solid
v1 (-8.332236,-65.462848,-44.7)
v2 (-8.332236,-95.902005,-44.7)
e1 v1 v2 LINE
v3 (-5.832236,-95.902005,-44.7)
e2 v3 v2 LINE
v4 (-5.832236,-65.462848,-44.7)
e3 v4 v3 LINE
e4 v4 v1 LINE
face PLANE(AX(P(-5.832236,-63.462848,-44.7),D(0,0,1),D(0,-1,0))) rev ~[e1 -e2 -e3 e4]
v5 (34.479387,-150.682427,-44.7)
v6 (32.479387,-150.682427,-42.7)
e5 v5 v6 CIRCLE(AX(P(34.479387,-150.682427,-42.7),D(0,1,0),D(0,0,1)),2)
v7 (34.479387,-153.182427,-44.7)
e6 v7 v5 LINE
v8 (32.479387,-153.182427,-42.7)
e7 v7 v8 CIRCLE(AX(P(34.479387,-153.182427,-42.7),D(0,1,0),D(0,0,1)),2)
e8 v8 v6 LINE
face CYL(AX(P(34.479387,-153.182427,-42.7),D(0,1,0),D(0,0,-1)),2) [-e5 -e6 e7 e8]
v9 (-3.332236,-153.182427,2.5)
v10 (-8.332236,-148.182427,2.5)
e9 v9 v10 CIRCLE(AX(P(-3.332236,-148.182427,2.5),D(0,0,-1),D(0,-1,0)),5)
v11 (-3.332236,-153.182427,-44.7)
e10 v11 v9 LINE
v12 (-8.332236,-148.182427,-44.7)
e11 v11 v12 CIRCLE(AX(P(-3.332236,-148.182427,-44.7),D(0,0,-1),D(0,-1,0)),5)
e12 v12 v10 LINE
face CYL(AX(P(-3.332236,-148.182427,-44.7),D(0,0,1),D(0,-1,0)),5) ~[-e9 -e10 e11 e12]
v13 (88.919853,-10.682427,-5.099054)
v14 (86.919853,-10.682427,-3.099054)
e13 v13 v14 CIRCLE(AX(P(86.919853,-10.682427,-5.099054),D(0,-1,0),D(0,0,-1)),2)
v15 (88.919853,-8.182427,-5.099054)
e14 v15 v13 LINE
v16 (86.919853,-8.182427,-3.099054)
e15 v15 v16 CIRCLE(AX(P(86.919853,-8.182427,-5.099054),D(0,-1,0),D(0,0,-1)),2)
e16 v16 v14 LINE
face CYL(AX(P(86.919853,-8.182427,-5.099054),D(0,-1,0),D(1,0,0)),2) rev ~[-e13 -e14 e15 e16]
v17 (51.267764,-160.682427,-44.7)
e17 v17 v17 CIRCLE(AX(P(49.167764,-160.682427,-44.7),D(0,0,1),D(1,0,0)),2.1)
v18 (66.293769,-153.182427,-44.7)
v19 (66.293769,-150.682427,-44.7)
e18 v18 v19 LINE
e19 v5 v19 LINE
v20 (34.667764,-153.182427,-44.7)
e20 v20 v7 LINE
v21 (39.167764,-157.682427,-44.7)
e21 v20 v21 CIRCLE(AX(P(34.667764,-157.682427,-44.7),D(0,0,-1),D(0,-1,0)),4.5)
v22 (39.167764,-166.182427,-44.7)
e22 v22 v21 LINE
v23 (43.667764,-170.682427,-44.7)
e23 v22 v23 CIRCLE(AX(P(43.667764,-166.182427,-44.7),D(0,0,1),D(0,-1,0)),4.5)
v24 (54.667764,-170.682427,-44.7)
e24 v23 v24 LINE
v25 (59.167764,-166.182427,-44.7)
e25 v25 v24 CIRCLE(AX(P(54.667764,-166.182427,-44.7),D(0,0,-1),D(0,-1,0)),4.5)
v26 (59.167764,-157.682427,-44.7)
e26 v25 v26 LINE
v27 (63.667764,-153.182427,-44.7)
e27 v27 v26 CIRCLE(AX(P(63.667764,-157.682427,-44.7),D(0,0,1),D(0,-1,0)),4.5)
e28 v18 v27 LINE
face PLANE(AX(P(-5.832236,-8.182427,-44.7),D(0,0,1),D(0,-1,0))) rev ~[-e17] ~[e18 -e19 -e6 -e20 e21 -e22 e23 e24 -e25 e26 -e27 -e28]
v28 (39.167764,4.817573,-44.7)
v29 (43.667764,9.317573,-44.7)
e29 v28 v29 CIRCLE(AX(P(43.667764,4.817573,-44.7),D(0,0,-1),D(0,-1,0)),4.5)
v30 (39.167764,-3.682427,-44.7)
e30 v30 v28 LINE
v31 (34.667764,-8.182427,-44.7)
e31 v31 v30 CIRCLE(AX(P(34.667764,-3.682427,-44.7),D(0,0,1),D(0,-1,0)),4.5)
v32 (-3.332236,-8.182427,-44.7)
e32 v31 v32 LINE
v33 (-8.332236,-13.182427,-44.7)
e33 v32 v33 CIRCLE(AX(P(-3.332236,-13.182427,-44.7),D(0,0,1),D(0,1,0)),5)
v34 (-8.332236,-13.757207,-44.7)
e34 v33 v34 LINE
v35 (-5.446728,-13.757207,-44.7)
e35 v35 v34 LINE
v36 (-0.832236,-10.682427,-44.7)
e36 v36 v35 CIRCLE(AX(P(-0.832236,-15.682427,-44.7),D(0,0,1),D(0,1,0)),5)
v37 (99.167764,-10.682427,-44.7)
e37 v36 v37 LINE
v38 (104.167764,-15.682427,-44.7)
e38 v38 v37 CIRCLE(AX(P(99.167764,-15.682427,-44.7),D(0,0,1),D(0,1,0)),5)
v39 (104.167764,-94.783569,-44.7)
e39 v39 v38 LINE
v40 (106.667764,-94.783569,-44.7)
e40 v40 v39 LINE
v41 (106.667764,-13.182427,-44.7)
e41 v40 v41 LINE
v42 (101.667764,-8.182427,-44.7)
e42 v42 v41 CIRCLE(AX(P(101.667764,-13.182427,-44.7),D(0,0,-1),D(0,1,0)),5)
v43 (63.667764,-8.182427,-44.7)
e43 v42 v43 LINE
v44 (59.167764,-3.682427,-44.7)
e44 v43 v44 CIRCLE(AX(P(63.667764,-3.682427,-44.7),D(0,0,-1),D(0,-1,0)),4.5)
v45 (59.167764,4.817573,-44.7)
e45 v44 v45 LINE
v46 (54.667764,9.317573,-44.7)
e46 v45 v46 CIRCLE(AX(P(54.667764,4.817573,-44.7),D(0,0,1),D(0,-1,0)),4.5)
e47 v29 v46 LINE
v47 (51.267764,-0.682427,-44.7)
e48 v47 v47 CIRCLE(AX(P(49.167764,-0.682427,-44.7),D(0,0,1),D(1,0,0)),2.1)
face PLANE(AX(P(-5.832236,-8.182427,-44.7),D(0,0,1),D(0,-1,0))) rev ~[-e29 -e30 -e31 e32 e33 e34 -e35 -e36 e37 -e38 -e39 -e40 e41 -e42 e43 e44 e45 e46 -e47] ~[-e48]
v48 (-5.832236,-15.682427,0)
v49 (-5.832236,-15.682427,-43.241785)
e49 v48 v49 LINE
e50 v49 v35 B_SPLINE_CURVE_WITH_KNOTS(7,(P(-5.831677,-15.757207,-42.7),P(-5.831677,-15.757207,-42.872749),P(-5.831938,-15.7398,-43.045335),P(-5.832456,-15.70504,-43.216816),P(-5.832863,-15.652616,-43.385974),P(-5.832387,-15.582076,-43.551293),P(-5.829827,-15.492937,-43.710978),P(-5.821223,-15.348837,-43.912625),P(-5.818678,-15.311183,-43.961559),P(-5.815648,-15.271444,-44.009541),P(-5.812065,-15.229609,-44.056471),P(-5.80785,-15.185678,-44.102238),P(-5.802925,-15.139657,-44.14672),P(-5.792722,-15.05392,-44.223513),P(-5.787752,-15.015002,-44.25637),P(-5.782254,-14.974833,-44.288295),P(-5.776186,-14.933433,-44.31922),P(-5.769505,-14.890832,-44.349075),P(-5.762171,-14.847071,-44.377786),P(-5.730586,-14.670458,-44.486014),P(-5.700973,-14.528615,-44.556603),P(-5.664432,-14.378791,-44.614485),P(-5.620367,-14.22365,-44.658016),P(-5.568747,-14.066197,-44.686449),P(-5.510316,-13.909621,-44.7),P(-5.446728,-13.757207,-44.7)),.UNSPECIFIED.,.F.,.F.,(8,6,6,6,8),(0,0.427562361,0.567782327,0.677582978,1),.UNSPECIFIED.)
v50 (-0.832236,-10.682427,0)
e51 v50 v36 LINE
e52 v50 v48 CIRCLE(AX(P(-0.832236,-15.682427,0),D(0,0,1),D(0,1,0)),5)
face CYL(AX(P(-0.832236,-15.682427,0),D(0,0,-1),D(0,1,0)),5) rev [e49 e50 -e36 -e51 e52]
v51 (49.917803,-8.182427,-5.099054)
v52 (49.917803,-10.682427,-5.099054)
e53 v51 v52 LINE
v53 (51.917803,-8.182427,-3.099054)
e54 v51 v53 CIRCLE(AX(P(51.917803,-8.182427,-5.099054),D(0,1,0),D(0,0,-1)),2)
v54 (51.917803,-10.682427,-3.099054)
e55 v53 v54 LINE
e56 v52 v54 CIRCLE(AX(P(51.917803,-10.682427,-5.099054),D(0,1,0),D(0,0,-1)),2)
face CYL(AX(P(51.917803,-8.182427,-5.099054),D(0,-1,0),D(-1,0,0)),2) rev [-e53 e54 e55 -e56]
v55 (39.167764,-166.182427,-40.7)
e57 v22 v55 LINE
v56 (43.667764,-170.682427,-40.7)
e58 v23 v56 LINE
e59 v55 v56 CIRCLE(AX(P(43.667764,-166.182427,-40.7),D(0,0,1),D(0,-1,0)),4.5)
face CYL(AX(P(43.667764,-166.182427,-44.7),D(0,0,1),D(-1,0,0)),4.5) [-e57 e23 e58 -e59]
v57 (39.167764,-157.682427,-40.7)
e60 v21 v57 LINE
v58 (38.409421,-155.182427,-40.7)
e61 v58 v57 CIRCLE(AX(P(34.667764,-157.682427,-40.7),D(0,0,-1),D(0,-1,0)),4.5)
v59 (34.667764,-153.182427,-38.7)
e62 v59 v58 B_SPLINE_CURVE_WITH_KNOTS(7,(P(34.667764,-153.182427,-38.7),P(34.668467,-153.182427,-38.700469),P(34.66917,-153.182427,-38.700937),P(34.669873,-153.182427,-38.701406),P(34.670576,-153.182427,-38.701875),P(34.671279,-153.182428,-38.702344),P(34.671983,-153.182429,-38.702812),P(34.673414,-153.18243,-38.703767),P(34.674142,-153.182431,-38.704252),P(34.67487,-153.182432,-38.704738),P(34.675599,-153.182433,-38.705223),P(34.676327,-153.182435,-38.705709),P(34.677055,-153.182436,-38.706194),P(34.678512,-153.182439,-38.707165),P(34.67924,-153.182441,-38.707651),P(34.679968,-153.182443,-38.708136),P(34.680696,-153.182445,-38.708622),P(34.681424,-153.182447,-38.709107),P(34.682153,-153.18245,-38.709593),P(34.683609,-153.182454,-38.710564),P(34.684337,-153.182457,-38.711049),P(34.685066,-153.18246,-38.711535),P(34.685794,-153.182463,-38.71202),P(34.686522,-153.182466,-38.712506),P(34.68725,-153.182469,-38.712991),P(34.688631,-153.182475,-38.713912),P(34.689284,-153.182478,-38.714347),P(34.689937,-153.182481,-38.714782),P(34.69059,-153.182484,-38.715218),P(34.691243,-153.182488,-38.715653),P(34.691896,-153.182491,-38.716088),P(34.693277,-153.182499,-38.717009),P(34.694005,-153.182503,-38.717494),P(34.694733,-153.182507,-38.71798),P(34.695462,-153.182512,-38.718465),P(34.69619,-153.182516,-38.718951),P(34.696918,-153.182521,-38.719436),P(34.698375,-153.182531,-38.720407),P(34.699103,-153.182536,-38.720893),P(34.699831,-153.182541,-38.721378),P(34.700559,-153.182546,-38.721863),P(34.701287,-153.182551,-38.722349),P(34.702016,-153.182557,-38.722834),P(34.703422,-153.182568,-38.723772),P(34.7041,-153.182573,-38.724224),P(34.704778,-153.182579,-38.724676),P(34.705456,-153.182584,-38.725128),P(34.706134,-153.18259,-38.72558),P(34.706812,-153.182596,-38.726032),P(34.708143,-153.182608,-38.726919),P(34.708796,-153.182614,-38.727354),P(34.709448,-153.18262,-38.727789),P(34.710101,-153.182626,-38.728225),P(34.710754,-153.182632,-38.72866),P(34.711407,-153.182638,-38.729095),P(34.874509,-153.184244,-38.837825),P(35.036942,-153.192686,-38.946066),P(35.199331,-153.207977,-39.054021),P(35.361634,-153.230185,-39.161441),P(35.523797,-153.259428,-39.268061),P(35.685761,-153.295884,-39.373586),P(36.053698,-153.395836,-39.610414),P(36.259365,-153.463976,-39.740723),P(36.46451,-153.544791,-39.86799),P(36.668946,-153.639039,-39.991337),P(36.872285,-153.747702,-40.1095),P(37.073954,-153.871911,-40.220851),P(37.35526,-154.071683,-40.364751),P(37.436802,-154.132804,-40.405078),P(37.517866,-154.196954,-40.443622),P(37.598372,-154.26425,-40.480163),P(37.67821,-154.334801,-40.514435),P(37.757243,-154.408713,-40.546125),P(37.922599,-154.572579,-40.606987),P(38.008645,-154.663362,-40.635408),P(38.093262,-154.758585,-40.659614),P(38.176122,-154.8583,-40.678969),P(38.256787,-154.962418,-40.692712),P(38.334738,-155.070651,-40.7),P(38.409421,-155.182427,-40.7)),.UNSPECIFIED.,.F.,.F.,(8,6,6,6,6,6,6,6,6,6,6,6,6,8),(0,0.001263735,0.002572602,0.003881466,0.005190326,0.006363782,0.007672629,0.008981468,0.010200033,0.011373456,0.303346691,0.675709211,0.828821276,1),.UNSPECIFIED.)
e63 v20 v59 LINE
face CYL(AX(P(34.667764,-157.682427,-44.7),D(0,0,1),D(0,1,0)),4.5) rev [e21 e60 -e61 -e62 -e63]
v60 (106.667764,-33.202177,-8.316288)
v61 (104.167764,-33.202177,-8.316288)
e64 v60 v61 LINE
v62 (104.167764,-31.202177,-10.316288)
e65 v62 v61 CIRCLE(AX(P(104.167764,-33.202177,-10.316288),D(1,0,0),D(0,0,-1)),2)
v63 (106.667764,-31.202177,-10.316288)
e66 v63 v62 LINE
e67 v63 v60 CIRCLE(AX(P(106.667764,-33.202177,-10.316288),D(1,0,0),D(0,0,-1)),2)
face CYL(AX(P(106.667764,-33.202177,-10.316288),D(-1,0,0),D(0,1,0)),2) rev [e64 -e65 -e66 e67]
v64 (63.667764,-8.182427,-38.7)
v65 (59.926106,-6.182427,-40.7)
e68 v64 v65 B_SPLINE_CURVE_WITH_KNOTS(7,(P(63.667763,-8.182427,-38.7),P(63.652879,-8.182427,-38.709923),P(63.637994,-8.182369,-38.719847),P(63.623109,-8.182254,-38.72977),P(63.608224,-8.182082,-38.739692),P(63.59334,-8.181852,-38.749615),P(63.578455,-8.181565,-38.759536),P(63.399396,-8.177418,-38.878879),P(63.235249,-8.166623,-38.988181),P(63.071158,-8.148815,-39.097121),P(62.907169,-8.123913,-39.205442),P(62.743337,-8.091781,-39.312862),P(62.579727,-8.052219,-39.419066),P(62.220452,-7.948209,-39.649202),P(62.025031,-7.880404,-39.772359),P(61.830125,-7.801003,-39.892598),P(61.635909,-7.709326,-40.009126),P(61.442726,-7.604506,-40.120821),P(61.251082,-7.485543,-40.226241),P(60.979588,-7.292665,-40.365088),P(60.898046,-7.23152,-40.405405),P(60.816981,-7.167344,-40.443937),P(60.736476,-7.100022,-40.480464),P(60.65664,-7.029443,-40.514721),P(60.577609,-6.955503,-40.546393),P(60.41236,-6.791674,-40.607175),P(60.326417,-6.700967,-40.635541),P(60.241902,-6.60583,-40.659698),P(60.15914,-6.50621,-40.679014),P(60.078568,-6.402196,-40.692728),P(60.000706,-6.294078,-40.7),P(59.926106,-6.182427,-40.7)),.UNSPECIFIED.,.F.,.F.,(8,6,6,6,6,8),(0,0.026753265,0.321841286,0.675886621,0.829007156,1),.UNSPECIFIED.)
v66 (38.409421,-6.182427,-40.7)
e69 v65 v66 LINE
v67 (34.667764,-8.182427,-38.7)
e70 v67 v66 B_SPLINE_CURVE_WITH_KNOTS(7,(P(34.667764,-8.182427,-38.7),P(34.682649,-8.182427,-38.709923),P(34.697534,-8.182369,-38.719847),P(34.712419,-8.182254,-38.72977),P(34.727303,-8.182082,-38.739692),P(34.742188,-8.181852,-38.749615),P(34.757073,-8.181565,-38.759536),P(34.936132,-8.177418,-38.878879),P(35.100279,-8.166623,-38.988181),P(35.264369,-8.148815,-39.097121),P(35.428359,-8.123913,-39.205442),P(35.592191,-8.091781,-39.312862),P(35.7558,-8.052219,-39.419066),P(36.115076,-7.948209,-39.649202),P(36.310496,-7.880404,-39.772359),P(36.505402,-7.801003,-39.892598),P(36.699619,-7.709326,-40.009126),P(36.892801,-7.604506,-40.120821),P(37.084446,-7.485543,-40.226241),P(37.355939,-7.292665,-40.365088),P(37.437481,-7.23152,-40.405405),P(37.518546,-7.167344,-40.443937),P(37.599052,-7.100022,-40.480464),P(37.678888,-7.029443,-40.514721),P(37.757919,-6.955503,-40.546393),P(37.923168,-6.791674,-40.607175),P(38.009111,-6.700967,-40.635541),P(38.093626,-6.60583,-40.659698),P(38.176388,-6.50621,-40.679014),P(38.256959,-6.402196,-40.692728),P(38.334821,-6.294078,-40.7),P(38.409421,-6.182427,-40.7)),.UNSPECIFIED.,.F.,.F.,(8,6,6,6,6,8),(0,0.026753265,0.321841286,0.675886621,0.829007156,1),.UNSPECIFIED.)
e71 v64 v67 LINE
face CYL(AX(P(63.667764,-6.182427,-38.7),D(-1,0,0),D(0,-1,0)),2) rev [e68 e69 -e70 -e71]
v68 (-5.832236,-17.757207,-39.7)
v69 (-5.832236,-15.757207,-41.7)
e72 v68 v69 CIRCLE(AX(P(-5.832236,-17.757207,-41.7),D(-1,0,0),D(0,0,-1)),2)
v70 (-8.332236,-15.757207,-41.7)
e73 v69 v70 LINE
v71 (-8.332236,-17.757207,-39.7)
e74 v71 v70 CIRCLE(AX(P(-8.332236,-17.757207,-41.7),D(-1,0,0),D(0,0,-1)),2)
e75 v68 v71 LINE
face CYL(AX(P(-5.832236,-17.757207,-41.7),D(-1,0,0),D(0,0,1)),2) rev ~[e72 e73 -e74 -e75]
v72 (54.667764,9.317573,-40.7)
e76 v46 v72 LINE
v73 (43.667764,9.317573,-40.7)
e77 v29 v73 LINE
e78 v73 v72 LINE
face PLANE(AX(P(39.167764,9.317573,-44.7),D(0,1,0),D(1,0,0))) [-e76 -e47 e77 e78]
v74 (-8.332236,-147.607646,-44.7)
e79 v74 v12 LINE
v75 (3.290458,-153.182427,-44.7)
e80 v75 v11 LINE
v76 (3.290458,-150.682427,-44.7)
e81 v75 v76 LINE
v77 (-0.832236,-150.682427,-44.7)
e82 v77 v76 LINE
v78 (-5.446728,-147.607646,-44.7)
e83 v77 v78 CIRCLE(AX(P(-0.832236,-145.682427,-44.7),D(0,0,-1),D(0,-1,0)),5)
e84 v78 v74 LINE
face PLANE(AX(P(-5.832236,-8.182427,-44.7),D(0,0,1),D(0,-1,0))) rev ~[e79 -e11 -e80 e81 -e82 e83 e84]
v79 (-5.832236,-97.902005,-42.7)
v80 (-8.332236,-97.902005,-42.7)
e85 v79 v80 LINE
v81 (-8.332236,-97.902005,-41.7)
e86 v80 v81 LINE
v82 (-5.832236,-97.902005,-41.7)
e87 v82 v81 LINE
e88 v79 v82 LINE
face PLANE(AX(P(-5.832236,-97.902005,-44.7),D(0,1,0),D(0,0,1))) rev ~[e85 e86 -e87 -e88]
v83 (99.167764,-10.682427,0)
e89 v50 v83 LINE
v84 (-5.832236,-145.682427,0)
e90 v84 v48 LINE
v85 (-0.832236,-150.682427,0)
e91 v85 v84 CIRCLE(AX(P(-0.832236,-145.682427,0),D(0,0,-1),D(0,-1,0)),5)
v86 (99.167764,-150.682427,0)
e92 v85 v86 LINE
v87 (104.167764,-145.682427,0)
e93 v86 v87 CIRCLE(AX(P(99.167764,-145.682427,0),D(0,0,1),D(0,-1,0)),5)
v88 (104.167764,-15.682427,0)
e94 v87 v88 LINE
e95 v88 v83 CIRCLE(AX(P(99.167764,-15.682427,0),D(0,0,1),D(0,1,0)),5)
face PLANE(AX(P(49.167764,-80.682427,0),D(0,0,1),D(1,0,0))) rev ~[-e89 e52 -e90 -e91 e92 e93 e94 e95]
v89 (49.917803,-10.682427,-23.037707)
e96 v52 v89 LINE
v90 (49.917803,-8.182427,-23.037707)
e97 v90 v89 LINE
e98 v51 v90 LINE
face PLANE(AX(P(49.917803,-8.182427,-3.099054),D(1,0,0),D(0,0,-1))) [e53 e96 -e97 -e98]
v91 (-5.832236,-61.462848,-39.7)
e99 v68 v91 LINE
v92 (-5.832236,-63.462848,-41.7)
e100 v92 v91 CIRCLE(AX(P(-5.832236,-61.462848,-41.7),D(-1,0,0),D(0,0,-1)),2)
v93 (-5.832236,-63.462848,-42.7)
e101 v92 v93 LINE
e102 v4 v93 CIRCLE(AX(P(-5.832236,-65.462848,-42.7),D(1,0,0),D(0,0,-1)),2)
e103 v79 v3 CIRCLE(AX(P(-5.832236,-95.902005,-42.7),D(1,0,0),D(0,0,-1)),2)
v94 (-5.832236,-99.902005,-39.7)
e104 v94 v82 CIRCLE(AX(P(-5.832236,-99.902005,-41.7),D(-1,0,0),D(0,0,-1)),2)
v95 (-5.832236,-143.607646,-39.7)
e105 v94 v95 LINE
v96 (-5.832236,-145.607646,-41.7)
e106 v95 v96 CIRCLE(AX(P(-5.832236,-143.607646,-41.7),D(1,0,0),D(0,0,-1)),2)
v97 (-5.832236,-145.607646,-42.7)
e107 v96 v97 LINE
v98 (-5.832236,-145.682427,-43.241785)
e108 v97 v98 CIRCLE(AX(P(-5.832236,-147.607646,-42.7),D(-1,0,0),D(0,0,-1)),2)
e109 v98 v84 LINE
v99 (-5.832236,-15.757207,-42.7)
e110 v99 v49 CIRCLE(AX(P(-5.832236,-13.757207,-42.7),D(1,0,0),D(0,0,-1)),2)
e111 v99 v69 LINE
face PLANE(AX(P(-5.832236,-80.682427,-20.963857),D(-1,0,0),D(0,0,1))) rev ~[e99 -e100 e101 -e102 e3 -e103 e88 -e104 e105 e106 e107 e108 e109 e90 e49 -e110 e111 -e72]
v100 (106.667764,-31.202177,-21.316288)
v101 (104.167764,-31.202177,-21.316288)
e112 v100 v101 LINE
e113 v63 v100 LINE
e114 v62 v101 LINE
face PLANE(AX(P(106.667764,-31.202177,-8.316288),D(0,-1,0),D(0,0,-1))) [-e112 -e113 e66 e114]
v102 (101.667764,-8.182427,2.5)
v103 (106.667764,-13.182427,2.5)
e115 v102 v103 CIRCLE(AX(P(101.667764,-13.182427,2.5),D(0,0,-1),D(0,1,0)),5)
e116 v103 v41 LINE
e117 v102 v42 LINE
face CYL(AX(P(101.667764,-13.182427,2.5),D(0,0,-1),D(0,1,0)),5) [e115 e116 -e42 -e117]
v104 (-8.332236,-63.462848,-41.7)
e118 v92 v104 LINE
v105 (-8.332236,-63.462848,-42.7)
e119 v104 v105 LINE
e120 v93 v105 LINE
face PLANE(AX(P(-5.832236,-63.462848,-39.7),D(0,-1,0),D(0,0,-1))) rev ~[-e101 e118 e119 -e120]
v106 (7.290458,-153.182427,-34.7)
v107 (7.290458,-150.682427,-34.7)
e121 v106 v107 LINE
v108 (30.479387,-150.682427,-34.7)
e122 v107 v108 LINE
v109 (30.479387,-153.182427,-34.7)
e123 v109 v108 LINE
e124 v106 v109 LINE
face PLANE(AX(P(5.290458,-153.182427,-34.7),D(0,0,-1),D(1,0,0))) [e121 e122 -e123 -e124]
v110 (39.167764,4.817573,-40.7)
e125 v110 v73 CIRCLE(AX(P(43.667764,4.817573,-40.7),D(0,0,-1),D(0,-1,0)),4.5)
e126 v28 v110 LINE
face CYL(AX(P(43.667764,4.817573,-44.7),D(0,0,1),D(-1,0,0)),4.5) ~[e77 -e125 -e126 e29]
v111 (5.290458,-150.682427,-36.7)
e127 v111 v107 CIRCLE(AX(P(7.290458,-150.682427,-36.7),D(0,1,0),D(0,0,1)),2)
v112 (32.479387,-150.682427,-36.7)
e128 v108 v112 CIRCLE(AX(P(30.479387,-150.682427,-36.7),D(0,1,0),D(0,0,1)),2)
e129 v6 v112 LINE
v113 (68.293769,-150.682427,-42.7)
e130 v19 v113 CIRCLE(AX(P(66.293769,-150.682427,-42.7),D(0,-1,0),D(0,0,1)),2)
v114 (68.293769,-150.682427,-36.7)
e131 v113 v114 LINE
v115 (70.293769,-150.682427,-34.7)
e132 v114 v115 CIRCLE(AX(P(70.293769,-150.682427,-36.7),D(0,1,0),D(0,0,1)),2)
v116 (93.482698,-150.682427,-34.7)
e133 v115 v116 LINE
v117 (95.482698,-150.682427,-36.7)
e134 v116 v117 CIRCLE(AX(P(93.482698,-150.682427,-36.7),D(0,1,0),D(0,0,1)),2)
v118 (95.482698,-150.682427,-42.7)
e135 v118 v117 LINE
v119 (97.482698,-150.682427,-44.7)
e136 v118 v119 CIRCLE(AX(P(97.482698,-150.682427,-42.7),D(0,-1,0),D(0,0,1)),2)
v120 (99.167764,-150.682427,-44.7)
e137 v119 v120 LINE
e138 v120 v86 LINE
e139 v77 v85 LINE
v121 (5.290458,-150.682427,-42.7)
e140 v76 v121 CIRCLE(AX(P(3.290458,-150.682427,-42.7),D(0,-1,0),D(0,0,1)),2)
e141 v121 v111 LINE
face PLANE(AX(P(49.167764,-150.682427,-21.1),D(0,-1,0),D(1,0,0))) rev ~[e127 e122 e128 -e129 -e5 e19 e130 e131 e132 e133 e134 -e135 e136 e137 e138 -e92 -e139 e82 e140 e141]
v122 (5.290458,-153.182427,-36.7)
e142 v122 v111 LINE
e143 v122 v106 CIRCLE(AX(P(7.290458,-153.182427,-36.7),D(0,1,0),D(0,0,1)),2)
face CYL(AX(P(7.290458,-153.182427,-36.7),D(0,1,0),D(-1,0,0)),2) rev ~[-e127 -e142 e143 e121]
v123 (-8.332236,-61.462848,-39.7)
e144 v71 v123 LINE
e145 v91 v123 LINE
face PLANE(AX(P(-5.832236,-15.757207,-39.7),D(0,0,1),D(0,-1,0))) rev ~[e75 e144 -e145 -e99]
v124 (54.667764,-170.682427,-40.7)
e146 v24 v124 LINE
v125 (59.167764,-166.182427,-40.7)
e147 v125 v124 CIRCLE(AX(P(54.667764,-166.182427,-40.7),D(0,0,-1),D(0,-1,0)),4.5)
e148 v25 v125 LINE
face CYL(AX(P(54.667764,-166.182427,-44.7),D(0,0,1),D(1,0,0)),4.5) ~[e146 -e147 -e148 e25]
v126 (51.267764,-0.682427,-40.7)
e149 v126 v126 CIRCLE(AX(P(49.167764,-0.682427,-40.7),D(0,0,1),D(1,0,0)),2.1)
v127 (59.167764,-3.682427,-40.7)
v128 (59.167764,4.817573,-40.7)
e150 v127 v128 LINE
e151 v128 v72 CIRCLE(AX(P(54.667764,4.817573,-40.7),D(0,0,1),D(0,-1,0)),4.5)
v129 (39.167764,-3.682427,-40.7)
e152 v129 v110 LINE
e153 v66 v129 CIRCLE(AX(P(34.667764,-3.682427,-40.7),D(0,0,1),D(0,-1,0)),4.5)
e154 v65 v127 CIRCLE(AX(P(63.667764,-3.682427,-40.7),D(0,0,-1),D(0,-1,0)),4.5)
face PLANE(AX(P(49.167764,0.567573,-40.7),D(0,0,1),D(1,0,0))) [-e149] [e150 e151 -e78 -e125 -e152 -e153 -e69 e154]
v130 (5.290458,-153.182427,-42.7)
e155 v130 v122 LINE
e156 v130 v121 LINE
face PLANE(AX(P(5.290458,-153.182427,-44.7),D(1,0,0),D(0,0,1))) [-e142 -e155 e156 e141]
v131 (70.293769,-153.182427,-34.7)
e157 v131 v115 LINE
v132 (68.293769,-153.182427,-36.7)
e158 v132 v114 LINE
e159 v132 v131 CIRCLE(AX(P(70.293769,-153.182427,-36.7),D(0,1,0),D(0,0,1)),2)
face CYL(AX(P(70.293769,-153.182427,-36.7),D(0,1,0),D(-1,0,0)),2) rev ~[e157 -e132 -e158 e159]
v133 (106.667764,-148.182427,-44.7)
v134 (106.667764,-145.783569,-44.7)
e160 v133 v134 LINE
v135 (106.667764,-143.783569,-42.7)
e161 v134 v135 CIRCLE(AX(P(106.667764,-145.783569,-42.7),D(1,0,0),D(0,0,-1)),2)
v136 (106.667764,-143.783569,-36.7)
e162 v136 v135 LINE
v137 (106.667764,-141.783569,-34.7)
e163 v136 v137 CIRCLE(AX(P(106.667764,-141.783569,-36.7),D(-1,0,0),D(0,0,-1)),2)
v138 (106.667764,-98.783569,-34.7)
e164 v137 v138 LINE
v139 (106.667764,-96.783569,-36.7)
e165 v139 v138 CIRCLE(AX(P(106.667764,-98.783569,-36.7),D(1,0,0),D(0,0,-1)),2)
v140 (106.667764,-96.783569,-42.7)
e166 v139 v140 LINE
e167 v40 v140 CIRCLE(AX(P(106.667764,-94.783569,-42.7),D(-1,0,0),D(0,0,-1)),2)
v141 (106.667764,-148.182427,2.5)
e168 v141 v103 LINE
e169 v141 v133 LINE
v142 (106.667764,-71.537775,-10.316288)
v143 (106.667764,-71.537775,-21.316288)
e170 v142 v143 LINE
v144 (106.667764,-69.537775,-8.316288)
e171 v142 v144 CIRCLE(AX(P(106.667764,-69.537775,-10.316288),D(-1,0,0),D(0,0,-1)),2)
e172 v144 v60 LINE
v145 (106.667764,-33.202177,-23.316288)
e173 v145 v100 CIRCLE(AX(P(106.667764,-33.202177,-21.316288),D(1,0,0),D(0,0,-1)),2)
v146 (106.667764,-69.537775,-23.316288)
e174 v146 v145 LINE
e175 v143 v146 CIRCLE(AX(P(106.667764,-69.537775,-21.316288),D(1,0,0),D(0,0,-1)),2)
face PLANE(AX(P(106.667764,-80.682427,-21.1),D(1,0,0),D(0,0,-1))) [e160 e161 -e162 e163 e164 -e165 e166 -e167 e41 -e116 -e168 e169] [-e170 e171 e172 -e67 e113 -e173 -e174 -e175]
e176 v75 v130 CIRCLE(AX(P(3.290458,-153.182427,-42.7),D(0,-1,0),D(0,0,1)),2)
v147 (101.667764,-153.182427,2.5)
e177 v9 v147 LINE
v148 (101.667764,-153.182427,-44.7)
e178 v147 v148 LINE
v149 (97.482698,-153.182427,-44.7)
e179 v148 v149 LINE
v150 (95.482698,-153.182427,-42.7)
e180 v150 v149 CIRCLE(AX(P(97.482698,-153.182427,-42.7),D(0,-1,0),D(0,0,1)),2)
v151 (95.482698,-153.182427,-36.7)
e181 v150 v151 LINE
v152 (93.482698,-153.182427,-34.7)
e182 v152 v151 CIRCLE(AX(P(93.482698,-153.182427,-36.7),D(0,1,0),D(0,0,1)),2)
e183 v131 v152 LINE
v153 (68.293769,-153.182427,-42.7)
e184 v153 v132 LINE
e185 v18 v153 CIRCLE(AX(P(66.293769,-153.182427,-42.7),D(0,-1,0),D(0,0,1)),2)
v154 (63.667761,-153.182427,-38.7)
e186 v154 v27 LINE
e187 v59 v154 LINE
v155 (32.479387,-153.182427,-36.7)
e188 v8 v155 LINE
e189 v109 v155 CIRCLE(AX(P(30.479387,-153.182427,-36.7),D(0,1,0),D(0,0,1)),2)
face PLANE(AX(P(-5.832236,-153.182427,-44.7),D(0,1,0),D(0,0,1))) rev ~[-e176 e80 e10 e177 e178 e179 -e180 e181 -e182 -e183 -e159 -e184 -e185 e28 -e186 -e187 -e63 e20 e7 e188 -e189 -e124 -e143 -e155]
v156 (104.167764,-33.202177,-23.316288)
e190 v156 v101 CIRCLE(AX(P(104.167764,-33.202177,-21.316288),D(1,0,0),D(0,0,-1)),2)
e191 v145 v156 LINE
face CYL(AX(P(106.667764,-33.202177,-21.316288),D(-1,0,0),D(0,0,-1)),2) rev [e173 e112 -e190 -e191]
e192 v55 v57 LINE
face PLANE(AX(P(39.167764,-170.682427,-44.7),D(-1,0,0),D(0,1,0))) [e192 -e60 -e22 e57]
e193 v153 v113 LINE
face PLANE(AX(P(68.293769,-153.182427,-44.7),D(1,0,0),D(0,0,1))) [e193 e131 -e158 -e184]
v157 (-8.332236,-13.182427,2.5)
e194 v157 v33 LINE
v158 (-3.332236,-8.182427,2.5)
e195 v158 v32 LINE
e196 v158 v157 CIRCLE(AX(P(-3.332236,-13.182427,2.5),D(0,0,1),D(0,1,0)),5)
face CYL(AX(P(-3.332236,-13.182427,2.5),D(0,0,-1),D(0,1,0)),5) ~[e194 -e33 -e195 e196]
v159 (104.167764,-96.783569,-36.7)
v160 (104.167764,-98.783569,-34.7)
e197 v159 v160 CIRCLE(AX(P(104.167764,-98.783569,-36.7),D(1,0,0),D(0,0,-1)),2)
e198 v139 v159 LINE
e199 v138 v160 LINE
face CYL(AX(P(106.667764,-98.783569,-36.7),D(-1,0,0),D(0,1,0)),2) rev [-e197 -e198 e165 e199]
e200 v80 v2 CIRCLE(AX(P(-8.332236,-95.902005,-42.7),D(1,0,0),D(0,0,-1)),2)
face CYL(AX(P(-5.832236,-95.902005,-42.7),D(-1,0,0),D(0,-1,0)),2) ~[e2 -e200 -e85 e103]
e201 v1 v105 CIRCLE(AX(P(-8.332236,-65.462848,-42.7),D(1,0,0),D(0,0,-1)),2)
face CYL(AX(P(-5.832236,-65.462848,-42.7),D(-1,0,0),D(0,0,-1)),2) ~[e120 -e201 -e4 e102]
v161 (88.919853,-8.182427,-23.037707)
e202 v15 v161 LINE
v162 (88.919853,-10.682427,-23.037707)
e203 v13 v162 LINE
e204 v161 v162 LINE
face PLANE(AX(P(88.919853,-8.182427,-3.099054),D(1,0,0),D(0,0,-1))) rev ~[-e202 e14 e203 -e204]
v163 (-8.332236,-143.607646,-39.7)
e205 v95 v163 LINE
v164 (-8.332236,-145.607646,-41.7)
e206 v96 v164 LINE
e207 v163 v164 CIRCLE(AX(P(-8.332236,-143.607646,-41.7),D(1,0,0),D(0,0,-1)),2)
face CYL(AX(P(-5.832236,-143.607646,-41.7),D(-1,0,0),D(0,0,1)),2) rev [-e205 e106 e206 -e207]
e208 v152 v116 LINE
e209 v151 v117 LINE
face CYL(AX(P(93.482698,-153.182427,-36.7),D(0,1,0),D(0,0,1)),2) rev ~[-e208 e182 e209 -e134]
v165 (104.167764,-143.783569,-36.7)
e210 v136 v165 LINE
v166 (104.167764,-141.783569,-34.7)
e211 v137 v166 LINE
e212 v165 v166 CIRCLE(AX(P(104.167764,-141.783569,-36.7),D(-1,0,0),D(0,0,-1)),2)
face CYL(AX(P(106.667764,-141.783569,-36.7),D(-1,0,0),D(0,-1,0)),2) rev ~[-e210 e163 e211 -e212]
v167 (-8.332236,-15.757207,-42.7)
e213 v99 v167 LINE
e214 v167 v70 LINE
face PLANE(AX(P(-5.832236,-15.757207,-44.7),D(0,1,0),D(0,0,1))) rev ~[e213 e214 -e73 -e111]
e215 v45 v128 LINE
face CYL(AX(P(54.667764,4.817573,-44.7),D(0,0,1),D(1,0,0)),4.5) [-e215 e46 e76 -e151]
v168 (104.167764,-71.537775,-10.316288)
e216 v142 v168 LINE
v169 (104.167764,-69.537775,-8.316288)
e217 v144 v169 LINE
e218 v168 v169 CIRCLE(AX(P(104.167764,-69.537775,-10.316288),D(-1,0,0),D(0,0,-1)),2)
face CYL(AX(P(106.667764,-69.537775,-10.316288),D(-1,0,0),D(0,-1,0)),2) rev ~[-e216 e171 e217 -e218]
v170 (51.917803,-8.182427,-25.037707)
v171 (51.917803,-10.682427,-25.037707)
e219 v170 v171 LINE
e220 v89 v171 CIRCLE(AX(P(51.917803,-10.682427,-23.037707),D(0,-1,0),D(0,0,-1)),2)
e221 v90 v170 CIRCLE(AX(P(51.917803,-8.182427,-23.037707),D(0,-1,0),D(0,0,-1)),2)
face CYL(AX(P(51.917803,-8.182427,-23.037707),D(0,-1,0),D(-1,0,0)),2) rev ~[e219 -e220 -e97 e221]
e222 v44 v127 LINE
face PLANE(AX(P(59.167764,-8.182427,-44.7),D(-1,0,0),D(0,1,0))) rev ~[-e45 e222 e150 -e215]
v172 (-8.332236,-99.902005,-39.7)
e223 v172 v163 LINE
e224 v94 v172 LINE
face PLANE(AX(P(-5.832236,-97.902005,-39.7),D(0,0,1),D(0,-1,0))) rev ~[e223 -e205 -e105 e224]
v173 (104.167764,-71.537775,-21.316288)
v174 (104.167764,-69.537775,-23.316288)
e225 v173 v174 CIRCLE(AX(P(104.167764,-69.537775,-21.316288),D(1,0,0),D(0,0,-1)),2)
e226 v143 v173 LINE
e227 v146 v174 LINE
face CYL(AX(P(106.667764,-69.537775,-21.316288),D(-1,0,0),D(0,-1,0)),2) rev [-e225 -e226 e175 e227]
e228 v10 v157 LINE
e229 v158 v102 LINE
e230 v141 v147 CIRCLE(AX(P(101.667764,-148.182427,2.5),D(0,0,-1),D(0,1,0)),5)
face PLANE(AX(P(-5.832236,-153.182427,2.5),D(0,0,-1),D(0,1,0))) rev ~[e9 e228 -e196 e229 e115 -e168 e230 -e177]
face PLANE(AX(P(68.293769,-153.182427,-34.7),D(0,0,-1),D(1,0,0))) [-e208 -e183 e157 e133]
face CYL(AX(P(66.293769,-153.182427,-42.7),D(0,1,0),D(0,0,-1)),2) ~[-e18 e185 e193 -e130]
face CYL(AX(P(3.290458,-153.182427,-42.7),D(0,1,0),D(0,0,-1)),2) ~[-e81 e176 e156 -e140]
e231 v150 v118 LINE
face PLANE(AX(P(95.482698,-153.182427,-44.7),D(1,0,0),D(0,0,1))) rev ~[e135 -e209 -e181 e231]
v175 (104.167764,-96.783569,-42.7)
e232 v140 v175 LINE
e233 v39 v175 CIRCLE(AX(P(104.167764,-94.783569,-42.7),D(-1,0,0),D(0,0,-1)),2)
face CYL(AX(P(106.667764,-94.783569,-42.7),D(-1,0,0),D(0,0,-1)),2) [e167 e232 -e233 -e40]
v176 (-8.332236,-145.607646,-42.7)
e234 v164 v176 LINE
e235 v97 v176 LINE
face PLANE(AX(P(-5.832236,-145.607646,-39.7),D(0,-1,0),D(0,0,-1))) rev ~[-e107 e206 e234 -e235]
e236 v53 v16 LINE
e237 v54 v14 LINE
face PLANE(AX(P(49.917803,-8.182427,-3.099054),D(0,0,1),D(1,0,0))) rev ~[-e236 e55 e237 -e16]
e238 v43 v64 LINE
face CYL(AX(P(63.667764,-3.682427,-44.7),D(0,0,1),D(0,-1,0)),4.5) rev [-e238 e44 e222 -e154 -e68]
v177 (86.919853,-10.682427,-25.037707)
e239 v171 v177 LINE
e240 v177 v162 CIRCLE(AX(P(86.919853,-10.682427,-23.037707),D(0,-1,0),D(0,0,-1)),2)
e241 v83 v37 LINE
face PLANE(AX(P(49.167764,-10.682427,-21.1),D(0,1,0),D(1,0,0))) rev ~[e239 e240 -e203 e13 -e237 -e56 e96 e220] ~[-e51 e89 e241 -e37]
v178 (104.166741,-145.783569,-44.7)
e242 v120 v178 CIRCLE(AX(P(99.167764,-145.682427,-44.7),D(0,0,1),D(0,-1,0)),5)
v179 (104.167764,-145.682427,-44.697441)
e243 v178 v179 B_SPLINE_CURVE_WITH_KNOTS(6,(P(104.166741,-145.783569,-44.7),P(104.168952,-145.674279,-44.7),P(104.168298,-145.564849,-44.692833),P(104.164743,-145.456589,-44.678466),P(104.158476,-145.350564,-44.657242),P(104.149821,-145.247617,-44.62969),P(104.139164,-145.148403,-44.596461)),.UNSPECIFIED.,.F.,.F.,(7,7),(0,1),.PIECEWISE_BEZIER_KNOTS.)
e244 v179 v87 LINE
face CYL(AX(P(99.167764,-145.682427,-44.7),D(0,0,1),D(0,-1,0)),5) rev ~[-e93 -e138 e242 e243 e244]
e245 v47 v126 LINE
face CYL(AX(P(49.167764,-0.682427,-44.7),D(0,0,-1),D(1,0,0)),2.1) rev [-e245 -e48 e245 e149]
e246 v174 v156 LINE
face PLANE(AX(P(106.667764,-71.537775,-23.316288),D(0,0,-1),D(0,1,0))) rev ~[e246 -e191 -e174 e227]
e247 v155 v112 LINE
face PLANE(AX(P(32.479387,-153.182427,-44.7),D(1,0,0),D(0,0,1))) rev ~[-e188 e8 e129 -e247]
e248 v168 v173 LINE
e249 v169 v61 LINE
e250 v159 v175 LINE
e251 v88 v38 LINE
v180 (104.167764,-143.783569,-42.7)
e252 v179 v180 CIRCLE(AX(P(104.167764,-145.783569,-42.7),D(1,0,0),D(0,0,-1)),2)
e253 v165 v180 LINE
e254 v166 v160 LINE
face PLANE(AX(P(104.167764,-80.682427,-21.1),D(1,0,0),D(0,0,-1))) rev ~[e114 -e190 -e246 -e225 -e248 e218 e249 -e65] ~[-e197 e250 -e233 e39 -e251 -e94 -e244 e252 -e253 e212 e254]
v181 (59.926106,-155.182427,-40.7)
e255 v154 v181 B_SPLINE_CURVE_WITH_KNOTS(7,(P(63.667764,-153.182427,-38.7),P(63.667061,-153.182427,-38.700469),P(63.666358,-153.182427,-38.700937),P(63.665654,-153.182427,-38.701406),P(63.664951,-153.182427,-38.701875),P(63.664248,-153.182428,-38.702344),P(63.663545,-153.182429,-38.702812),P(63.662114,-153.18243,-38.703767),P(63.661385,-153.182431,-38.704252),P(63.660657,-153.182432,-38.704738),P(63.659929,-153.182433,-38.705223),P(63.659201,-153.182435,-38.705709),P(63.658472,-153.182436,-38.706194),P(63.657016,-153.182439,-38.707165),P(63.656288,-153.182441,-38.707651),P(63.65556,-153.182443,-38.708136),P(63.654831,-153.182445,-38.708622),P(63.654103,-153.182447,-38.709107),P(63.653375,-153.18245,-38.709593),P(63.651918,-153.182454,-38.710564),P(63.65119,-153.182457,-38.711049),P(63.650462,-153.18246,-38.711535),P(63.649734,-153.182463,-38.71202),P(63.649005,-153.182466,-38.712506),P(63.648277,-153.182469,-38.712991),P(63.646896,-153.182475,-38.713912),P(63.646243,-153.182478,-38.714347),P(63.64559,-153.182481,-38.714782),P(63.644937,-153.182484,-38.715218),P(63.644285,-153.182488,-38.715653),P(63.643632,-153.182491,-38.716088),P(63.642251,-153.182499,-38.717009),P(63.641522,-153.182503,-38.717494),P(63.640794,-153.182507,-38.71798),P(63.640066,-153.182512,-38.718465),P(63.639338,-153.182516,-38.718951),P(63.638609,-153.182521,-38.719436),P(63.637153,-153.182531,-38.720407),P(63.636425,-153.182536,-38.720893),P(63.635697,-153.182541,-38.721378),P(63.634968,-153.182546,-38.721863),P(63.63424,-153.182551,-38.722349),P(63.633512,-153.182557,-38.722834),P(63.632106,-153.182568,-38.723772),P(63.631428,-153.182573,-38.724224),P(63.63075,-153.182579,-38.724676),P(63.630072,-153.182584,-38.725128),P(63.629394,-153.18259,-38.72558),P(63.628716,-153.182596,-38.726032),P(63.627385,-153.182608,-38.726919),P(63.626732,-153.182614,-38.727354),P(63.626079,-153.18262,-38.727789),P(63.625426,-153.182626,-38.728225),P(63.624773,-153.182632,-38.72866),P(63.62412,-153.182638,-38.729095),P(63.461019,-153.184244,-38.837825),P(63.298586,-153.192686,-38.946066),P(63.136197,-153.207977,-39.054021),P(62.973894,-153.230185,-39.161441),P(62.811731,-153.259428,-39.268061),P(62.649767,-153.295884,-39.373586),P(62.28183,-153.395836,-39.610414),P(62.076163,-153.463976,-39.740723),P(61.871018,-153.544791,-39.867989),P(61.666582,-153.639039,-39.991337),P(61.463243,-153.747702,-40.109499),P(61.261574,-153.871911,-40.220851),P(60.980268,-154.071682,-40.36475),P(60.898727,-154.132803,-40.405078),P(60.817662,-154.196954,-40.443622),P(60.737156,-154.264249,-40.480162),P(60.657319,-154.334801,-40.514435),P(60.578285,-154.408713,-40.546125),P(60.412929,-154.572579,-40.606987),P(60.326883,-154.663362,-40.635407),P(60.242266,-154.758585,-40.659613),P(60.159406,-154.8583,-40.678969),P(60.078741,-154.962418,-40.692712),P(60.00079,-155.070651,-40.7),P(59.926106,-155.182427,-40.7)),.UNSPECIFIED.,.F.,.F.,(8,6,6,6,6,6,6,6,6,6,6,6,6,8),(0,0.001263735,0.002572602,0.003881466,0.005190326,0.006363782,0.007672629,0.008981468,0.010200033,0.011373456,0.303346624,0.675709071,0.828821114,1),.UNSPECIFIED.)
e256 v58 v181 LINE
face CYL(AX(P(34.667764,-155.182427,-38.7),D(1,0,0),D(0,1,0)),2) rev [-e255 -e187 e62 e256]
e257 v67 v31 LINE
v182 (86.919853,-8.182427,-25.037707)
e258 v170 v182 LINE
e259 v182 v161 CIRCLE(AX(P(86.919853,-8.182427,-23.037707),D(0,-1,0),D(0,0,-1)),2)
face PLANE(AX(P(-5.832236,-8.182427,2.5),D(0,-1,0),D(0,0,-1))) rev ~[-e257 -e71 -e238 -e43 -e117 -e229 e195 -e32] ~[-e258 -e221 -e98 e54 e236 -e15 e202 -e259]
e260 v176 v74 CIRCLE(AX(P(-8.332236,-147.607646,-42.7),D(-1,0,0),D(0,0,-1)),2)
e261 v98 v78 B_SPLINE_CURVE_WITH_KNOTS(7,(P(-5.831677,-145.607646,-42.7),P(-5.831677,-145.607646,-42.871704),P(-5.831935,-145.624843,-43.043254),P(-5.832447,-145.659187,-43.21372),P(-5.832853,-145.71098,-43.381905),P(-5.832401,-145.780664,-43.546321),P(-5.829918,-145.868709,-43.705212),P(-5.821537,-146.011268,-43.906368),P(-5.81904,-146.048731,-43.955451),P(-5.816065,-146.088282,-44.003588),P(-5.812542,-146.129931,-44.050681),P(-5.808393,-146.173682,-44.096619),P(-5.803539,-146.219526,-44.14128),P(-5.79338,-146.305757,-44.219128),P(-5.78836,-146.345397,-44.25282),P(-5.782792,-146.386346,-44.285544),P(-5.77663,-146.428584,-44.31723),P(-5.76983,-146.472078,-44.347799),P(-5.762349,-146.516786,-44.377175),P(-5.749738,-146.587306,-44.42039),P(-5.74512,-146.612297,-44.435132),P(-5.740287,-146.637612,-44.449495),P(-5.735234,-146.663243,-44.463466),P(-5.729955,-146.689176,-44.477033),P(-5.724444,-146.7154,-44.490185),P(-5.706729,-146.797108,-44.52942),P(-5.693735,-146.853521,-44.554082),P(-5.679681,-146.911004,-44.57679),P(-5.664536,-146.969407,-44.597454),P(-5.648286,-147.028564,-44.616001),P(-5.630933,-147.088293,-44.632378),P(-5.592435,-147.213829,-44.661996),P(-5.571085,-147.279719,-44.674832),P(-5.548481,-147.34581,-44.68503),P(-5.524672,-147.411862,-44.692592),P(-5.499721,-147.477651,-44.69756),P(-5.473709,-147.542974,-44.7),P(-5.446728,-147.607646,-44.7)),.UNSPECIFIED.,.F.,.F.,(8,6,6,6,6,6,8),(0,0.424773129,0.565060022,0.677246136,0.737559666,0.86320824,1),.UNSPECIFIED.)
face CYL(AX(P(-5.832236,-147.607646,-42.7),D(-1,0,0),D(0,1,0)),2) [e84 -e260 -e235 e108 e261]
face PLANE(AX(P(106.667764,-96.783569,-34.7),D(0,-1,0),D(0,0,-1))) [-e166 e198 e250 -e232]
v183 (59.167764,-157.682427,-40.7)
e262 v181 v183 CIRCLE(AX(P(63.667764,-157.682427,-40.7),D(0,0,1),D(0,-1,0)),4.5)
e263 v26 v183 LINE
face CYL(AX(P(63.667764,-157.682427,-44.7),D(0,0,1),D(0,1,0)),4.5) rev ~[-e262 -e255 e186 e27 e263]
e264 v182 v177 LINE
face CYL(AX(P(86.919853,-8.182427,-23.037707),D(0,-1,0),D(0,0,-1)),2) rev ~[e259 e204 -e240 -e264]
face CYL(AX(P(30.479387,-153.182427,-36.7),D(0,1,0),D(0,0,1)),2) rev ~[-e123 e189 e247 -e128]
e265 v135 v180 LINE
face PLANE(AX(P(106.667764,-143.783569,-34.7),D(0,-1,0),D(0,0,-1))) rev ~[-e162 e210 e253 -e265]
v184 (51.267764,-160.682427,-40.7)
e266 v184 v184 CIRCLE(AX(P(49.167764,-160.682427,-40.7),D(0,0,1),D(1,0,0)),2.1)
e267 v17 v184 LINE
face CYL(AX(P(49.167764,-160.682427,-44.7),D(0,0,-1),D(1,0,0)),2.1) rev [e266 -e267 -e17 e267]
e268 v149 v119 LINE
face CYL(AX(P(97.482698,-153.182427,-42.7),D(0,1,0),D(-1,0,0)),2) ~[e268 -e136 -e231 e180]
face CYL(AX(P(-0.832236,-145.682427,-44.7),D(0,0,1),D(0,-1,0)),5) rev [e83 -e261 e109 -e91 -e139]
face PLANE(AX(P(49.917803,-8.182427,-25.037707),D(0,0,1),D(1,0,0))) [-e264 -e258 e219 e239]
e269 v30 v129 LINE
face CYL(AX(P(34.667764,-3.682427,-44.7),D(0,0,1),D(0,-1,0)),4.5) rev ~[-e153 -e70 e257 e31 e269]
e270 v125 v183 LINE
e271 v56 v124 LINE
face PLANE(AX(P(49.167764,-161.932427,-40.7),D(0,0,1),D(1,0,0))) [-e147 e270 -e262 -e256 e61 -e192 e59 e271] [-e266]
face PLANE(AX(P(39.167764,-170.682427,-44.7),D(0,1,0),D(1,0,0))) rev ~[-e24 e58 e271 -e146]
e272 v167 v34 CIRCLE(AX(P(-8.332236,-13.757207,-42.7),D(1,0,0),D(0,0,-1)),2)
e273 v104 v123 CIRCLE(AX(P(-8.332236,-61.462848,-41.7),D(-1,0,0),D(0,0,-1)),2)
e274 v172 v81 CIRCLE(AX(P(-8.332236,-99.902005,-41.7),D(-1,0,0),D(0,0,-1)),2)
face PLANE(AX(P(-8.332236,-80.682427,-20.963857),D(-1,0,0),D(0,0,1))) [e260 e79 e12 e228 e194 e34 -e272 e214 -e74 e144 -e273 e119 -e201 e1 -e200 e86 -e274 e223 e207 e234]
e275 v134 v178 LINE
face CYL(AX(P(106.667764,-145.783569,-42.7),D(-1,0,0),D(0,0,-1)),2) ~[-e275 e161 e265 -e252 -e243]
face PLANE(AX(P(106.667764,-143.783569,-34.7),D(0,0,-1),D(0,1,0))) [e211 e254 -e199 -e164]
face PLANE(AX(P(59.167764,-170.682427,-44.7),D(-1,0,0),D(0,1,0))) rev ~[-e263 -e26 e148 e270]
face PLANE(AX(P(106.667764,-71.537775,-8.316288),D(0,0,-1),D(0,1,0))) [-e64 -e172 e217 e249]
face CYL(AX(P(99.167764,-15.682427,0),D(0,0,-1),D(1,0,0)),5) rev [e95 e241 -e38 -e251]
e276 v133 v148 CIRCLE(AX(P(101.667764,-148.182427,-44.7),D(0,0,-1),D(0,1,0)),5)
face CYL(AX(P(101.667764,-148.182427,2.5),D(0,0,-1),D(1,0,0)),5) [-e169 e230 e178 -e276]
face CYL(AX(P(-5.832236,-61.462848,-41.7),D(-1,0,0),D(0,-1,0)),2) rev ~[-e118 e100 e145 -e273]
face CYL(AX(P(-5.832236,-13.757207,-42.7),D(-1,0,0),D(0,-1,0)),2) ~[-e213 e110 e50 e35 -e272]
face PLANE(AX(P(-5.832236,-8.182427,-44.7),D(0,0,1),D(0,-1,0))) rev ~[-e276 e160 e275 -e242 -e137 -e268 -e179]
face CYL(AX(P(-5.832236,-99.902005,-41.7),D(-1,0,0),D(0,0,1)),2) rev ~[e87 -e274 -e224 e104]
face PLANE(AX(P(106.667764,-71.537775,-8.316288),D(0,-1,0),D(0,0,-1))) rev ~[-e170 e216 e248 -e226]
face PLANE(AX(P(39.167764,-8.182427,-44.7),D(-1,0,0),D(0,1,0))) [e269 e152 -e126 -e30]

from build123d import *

# Parameters (mm, degrees)
SKETCH1_W           = 110
SKETCH1_H           = 140
BOSS_EXTRUDE2_DEPTH = 2.5
SKETCH2_W           = 110
SKETCH2_H           = 47.2
BOSS_EXTRUDE3_DEPTH = 2.5
SKETCH3_W           = 110
SKETCH3_H           = 47.2
BOSS_EXTRUDE4_DEPTH = 2.5
SKETCH4_W           = 47.2
SKETCH4_H           = 145
BOSS_EXTRUDE5_DEPTH = 2.5
BOSS_EXTRUDE6_DEPTH = 2.5
FILLET1_R           = 5
SKETCH8_W           = 20
SKETCH8_H           = 17.5
SKETCH8_R           = 2.1
BOSS_EXTRUDE7_DEPTH = 4
FILLET2_R           = 4.5
FILLET3_R           = 2
FILLET4_R           = 2
SKETCH10_W          = 27.188928792
SKETCH10_H          = 10
CUT_EXTRUDE1_DEPTH  = 2.5
SKETCH11_W          = 30.376596305
SKETCH11_H          = 16.688376982
BOSS_EXTRUDE8_DEPTH = 2.5
SKETCH13_W          = 10
SKETCH13_H          = 47
SKETCH13_W_2        = 15
SKETCH13_H_2        = 40.335597964
CUT_EXTRUDE2_DEPTH  = 2.5
SKETCH14_W          = 39.002049577
SKETCH14_H          = 21.938652887
CUT_EXTRUDE3_DEPTH  = 2.5
FILLET5_R           = 2


with BuildPart() as part:
    # Sketch1 → Boss-Extrude2 (new body)
    with BuildSketch(Plane.XY):
        with Locations((49.167763787, -80.682426657)):
            Rectangle(SKETCH1_W, SKETCH1_H)
    extrude(amount=BOSS_EXTRUDE2_DEPTH)

    # Sketch2 → Boss-Extrude3 (add)
    with BuildSketch(Plane.XZ.offset(150.682426657)):
        with Locations((49.167763787, -21.1)):
            Rectangle(SKETCH2_W, SKETCH2_H)
    extrude(amount=BOSS_EXTRUDE3_DEPTH)

    # Sketch3 → Boss-Extrude4 (add)
    with BuildSketch(Plane(origin=(0, -10.682426657, 0), x_dir=(1, 0, 0), z_dir=(0, 1, 0))):
        with Locations((49.167763787, 21.1)):
            Rectangle(SKETCH3_W, SKETCH3_H)
    extrude(amount=BOSS_EXTRUDE4_DEPTH)

    # Sketch4 → Boss-Extrude5 (add)
    with BuildSketch(Plane(origin=(104.167763787, 0, 0), x_dir=(0, 0, -1), z_dir=(1, 0, 0))):
        with Locations((21.1, -80.682426657)):
            Rectangle(SKETCH4_W, SKETCH4_H)
    extrude(amount=BOSS_EXTRUDE5_DEPTH)

    # Sketch7 → Boss-Extrude6 (add)
    with BuildSketch(Plane.ZY.offset(5.832236213)):
        Polygon((2.5, -8.182426657), (-44.7, -8.182426657), (-44.7, -15.757207328), (-39.7, -15.757207328), (-39.7, -63.462848096), (-44.7, -63.462848096), (-44.7, -97.902005218), (-39.7, -97.902005218), (-39.7, -145.607645986), (-44.7, -145.607645986), (-44.7, -153.182426657), (2.5, -153.182426657), align=None)
    extrude(amount=BOSS_EXTRUDE6_DEPTH)

    # Fillet1
    fillet1_edges = [part.edges().sort_by_distance(p)[0] for p in [
        (-5.832236213, -150.682426657, -22.35),
        (104.167763787, -150.682426657, -22.35),
        (104.167763787, -10.682426657, -22.35),
        (-5.832236213, -10.682426657, -22.35),
        (106.667763787, -153.182426657, -21.1),
        (106.667763787, -8.182426657, -21.1),
        (-8.332236213, -8.182426657, -21.1),
        (-8.332236213, -153.182426657, -21.1),
    ]]
    fillet(fillet1_edges, radius=FILLET1_R)

    # Sketch8 → Boss-Extrude7 (add)
    # profile 1 of 2: a face of its own
    with BuildSketch(Plane.XY.offset(-44.7)):
        with Locations((49.167763787, 0.567573343)):
            Rectangle(SKETCH8_W, SKETCH8_H)
        with Locations((49.167763787, -0.682426657)):
            Circle(SKETCH8_R, mode=Mode.SUBTRACT)
    # profile 2 of 2: a face of its own
    with BuildSketch(Plane.XY.offset(-44.7)):
        with Locations((49.167763787, -161.932426657)):
            Rectangle(SKETCH8_W, SKETCH8_H)
        with Locations((49.167763787, -160.682426657)):
            Circle(SKETCH8_R, mode=Mode.SUBTRACT)
    extrude(amount=BOSS_EXTRUDE7_DEPTH)

    # Fillet2
    fillet2_edges = [part.edges().sort_by_distance(p)[0] for p in [
        (39.167763787, -8.182426657, -42.7),
        (59.167763787, -8.182426657, -42.7),
        (59.167763787, 9.317573343, -42.7),
        (39.167763787, 9.317573343, -42.7),
        (39.167763787, -170.682426657, -42.7),
        (59.167763787, -170.682426657, -42.7),
        (59.167763787, -153.182426657, -42.7),
        (39.167763787, -153.182426657, -42.7),
    ]]
    fillet(fillet2_edges, radius=FILLET2_R)

    # Fillet3
    fillet3_edges = [part.edges().sort_by_distance(p)[0] for p in [
        (-7.082236213, -15.757207328, -44.7),
        (-7.082236213, -15.757207328, -39.7),
        (-7.082236213, -63.462848096, -39.7),
        (-7.082236213, -63.462848096, -44.7),
        (-7.082236213, -97.902005218, -44.7),
        (-7.082236213, -97.902005218, -39.7),
        (-7.082236213, -145.607645986, -39.7),
        (-7.082236213, -145.607645986, -44.7),
    ]]
    fillet(fillet3_edges, radius=FILLET3_R)

    # Fillet4
    fillet4_edges = [part.edges().sort_by_distance(p)[0] for p in [
        (49.167763787, -8.182426657, -40.7),
        (49.167763787, -153.182426657, -40.7),
    ]]
    fillet(fillet4_edges, radius=FILLET4_R)

    # Sketch10 → Cut-Extrude1 (cut)
    with BuildSketch(Plane.XZ.offset(153.182426657)):
        with Locations((18.884922409, -39.7)):
            Rectangle(SKETCH10_W, SKETCH10_H)
        with Locations((81.888233264, -39.7)):
            Rectangle(SKETCH10_W, SKETCH10_H)
    extrude(amount=-CUT_EXTRUDE1_DEPTH, mode=Mode.SUBTRACT)

    # Sketch11 → Boss-Extrude8 (add)
    with BuildSketch(Plane(origin=(0, -8.182426657, 0), x_dir=(1, 0, 0), z_dir=(0, 1, 0))):
        with Locations((74.481594042, 13.130831216)):
            Rectangle(SKETCH11_W, SKETCH11_H)
    extrude(amount=-BOSS_EXTRUDE8_DEPTH)

    # Sketch13 → Cut-Extrude2 (cut)
    with BuildSketch(Plane(origin=(106.667763787, 0, 0), x_dir=(0, 0, -1), z_dir=(1, 0, 0))):
        with Locations((39.7, -120.28356874)):
            Rectangle(SKETCH13_W, SKETCH13_H)
        with Locations((15.816287793, -51.369975871)):
            Rectangle(SKETCH13_W_2, SKETCH13_H_2)
    extrude(amount=-CUT_EXTRUDE2_DEPTH, mode=Mode.SUBTRACT)

    # Sketch14 → Cut-Extrude3 (cut)
    with BuildSketch(Plane(origin=(0, -8.182426657, 0), x_dir=(1, 0, 0), z_dir=(0, 1, 0))):
        with Locations((69.418827991, 14.068380485)):
            Rectangle(SKETCH14_W, SKETCH14_H)
    extrude(amount=-CUT_EXTRUDE3_DEPTH, mode=Mode.SUBTRACT)

    # Fillet5
    fillet5_edges = [part.edges().sort_by_distance(p)[0] for p in [
        (5.290458013, -151.932426657, -44.7),
        (5.290458013, -151.932426657, -34.7),
        (32.479386805, -151.932426657, -34.7),
        (32.479386805, -151.932426657, -44.7),
        (68.293768868, -151.932426657, -44.7),
        (68.293768868, -151.932426657, -34.7),
        (95.48269766, -151.932426657, -34.7),
        (95.48269766, -151.932426657, -44.7),
        (105.417763787, -143.78356874, -34.7),
        (105.417763787, -96.78356874, -34.7),
        (105.417763787, -96.78356874, -44.7),
        (105.417763787, -143.78356874, -44.7),
        (105.417763787, -71.537774853, -8.316287793),
        (105.417763787, -31.202176889, -8.316287793),
        (105.417763787, -31.202176889, -23.316287793),
        (105.417763787, -71.537774853, -23.316287793),
        (88.919852779, -9.432426657, -25.037706928),
        (88.919852779, -9.432426657, -3.099054041),
        (49.917803202, -9.432426657, -3.099054041),
        (49.917803202, -9.432426657, -25.037706928),
    ]]
    fillet(fillet5_edges, radius=FILLET5_R)


solid = part.part
